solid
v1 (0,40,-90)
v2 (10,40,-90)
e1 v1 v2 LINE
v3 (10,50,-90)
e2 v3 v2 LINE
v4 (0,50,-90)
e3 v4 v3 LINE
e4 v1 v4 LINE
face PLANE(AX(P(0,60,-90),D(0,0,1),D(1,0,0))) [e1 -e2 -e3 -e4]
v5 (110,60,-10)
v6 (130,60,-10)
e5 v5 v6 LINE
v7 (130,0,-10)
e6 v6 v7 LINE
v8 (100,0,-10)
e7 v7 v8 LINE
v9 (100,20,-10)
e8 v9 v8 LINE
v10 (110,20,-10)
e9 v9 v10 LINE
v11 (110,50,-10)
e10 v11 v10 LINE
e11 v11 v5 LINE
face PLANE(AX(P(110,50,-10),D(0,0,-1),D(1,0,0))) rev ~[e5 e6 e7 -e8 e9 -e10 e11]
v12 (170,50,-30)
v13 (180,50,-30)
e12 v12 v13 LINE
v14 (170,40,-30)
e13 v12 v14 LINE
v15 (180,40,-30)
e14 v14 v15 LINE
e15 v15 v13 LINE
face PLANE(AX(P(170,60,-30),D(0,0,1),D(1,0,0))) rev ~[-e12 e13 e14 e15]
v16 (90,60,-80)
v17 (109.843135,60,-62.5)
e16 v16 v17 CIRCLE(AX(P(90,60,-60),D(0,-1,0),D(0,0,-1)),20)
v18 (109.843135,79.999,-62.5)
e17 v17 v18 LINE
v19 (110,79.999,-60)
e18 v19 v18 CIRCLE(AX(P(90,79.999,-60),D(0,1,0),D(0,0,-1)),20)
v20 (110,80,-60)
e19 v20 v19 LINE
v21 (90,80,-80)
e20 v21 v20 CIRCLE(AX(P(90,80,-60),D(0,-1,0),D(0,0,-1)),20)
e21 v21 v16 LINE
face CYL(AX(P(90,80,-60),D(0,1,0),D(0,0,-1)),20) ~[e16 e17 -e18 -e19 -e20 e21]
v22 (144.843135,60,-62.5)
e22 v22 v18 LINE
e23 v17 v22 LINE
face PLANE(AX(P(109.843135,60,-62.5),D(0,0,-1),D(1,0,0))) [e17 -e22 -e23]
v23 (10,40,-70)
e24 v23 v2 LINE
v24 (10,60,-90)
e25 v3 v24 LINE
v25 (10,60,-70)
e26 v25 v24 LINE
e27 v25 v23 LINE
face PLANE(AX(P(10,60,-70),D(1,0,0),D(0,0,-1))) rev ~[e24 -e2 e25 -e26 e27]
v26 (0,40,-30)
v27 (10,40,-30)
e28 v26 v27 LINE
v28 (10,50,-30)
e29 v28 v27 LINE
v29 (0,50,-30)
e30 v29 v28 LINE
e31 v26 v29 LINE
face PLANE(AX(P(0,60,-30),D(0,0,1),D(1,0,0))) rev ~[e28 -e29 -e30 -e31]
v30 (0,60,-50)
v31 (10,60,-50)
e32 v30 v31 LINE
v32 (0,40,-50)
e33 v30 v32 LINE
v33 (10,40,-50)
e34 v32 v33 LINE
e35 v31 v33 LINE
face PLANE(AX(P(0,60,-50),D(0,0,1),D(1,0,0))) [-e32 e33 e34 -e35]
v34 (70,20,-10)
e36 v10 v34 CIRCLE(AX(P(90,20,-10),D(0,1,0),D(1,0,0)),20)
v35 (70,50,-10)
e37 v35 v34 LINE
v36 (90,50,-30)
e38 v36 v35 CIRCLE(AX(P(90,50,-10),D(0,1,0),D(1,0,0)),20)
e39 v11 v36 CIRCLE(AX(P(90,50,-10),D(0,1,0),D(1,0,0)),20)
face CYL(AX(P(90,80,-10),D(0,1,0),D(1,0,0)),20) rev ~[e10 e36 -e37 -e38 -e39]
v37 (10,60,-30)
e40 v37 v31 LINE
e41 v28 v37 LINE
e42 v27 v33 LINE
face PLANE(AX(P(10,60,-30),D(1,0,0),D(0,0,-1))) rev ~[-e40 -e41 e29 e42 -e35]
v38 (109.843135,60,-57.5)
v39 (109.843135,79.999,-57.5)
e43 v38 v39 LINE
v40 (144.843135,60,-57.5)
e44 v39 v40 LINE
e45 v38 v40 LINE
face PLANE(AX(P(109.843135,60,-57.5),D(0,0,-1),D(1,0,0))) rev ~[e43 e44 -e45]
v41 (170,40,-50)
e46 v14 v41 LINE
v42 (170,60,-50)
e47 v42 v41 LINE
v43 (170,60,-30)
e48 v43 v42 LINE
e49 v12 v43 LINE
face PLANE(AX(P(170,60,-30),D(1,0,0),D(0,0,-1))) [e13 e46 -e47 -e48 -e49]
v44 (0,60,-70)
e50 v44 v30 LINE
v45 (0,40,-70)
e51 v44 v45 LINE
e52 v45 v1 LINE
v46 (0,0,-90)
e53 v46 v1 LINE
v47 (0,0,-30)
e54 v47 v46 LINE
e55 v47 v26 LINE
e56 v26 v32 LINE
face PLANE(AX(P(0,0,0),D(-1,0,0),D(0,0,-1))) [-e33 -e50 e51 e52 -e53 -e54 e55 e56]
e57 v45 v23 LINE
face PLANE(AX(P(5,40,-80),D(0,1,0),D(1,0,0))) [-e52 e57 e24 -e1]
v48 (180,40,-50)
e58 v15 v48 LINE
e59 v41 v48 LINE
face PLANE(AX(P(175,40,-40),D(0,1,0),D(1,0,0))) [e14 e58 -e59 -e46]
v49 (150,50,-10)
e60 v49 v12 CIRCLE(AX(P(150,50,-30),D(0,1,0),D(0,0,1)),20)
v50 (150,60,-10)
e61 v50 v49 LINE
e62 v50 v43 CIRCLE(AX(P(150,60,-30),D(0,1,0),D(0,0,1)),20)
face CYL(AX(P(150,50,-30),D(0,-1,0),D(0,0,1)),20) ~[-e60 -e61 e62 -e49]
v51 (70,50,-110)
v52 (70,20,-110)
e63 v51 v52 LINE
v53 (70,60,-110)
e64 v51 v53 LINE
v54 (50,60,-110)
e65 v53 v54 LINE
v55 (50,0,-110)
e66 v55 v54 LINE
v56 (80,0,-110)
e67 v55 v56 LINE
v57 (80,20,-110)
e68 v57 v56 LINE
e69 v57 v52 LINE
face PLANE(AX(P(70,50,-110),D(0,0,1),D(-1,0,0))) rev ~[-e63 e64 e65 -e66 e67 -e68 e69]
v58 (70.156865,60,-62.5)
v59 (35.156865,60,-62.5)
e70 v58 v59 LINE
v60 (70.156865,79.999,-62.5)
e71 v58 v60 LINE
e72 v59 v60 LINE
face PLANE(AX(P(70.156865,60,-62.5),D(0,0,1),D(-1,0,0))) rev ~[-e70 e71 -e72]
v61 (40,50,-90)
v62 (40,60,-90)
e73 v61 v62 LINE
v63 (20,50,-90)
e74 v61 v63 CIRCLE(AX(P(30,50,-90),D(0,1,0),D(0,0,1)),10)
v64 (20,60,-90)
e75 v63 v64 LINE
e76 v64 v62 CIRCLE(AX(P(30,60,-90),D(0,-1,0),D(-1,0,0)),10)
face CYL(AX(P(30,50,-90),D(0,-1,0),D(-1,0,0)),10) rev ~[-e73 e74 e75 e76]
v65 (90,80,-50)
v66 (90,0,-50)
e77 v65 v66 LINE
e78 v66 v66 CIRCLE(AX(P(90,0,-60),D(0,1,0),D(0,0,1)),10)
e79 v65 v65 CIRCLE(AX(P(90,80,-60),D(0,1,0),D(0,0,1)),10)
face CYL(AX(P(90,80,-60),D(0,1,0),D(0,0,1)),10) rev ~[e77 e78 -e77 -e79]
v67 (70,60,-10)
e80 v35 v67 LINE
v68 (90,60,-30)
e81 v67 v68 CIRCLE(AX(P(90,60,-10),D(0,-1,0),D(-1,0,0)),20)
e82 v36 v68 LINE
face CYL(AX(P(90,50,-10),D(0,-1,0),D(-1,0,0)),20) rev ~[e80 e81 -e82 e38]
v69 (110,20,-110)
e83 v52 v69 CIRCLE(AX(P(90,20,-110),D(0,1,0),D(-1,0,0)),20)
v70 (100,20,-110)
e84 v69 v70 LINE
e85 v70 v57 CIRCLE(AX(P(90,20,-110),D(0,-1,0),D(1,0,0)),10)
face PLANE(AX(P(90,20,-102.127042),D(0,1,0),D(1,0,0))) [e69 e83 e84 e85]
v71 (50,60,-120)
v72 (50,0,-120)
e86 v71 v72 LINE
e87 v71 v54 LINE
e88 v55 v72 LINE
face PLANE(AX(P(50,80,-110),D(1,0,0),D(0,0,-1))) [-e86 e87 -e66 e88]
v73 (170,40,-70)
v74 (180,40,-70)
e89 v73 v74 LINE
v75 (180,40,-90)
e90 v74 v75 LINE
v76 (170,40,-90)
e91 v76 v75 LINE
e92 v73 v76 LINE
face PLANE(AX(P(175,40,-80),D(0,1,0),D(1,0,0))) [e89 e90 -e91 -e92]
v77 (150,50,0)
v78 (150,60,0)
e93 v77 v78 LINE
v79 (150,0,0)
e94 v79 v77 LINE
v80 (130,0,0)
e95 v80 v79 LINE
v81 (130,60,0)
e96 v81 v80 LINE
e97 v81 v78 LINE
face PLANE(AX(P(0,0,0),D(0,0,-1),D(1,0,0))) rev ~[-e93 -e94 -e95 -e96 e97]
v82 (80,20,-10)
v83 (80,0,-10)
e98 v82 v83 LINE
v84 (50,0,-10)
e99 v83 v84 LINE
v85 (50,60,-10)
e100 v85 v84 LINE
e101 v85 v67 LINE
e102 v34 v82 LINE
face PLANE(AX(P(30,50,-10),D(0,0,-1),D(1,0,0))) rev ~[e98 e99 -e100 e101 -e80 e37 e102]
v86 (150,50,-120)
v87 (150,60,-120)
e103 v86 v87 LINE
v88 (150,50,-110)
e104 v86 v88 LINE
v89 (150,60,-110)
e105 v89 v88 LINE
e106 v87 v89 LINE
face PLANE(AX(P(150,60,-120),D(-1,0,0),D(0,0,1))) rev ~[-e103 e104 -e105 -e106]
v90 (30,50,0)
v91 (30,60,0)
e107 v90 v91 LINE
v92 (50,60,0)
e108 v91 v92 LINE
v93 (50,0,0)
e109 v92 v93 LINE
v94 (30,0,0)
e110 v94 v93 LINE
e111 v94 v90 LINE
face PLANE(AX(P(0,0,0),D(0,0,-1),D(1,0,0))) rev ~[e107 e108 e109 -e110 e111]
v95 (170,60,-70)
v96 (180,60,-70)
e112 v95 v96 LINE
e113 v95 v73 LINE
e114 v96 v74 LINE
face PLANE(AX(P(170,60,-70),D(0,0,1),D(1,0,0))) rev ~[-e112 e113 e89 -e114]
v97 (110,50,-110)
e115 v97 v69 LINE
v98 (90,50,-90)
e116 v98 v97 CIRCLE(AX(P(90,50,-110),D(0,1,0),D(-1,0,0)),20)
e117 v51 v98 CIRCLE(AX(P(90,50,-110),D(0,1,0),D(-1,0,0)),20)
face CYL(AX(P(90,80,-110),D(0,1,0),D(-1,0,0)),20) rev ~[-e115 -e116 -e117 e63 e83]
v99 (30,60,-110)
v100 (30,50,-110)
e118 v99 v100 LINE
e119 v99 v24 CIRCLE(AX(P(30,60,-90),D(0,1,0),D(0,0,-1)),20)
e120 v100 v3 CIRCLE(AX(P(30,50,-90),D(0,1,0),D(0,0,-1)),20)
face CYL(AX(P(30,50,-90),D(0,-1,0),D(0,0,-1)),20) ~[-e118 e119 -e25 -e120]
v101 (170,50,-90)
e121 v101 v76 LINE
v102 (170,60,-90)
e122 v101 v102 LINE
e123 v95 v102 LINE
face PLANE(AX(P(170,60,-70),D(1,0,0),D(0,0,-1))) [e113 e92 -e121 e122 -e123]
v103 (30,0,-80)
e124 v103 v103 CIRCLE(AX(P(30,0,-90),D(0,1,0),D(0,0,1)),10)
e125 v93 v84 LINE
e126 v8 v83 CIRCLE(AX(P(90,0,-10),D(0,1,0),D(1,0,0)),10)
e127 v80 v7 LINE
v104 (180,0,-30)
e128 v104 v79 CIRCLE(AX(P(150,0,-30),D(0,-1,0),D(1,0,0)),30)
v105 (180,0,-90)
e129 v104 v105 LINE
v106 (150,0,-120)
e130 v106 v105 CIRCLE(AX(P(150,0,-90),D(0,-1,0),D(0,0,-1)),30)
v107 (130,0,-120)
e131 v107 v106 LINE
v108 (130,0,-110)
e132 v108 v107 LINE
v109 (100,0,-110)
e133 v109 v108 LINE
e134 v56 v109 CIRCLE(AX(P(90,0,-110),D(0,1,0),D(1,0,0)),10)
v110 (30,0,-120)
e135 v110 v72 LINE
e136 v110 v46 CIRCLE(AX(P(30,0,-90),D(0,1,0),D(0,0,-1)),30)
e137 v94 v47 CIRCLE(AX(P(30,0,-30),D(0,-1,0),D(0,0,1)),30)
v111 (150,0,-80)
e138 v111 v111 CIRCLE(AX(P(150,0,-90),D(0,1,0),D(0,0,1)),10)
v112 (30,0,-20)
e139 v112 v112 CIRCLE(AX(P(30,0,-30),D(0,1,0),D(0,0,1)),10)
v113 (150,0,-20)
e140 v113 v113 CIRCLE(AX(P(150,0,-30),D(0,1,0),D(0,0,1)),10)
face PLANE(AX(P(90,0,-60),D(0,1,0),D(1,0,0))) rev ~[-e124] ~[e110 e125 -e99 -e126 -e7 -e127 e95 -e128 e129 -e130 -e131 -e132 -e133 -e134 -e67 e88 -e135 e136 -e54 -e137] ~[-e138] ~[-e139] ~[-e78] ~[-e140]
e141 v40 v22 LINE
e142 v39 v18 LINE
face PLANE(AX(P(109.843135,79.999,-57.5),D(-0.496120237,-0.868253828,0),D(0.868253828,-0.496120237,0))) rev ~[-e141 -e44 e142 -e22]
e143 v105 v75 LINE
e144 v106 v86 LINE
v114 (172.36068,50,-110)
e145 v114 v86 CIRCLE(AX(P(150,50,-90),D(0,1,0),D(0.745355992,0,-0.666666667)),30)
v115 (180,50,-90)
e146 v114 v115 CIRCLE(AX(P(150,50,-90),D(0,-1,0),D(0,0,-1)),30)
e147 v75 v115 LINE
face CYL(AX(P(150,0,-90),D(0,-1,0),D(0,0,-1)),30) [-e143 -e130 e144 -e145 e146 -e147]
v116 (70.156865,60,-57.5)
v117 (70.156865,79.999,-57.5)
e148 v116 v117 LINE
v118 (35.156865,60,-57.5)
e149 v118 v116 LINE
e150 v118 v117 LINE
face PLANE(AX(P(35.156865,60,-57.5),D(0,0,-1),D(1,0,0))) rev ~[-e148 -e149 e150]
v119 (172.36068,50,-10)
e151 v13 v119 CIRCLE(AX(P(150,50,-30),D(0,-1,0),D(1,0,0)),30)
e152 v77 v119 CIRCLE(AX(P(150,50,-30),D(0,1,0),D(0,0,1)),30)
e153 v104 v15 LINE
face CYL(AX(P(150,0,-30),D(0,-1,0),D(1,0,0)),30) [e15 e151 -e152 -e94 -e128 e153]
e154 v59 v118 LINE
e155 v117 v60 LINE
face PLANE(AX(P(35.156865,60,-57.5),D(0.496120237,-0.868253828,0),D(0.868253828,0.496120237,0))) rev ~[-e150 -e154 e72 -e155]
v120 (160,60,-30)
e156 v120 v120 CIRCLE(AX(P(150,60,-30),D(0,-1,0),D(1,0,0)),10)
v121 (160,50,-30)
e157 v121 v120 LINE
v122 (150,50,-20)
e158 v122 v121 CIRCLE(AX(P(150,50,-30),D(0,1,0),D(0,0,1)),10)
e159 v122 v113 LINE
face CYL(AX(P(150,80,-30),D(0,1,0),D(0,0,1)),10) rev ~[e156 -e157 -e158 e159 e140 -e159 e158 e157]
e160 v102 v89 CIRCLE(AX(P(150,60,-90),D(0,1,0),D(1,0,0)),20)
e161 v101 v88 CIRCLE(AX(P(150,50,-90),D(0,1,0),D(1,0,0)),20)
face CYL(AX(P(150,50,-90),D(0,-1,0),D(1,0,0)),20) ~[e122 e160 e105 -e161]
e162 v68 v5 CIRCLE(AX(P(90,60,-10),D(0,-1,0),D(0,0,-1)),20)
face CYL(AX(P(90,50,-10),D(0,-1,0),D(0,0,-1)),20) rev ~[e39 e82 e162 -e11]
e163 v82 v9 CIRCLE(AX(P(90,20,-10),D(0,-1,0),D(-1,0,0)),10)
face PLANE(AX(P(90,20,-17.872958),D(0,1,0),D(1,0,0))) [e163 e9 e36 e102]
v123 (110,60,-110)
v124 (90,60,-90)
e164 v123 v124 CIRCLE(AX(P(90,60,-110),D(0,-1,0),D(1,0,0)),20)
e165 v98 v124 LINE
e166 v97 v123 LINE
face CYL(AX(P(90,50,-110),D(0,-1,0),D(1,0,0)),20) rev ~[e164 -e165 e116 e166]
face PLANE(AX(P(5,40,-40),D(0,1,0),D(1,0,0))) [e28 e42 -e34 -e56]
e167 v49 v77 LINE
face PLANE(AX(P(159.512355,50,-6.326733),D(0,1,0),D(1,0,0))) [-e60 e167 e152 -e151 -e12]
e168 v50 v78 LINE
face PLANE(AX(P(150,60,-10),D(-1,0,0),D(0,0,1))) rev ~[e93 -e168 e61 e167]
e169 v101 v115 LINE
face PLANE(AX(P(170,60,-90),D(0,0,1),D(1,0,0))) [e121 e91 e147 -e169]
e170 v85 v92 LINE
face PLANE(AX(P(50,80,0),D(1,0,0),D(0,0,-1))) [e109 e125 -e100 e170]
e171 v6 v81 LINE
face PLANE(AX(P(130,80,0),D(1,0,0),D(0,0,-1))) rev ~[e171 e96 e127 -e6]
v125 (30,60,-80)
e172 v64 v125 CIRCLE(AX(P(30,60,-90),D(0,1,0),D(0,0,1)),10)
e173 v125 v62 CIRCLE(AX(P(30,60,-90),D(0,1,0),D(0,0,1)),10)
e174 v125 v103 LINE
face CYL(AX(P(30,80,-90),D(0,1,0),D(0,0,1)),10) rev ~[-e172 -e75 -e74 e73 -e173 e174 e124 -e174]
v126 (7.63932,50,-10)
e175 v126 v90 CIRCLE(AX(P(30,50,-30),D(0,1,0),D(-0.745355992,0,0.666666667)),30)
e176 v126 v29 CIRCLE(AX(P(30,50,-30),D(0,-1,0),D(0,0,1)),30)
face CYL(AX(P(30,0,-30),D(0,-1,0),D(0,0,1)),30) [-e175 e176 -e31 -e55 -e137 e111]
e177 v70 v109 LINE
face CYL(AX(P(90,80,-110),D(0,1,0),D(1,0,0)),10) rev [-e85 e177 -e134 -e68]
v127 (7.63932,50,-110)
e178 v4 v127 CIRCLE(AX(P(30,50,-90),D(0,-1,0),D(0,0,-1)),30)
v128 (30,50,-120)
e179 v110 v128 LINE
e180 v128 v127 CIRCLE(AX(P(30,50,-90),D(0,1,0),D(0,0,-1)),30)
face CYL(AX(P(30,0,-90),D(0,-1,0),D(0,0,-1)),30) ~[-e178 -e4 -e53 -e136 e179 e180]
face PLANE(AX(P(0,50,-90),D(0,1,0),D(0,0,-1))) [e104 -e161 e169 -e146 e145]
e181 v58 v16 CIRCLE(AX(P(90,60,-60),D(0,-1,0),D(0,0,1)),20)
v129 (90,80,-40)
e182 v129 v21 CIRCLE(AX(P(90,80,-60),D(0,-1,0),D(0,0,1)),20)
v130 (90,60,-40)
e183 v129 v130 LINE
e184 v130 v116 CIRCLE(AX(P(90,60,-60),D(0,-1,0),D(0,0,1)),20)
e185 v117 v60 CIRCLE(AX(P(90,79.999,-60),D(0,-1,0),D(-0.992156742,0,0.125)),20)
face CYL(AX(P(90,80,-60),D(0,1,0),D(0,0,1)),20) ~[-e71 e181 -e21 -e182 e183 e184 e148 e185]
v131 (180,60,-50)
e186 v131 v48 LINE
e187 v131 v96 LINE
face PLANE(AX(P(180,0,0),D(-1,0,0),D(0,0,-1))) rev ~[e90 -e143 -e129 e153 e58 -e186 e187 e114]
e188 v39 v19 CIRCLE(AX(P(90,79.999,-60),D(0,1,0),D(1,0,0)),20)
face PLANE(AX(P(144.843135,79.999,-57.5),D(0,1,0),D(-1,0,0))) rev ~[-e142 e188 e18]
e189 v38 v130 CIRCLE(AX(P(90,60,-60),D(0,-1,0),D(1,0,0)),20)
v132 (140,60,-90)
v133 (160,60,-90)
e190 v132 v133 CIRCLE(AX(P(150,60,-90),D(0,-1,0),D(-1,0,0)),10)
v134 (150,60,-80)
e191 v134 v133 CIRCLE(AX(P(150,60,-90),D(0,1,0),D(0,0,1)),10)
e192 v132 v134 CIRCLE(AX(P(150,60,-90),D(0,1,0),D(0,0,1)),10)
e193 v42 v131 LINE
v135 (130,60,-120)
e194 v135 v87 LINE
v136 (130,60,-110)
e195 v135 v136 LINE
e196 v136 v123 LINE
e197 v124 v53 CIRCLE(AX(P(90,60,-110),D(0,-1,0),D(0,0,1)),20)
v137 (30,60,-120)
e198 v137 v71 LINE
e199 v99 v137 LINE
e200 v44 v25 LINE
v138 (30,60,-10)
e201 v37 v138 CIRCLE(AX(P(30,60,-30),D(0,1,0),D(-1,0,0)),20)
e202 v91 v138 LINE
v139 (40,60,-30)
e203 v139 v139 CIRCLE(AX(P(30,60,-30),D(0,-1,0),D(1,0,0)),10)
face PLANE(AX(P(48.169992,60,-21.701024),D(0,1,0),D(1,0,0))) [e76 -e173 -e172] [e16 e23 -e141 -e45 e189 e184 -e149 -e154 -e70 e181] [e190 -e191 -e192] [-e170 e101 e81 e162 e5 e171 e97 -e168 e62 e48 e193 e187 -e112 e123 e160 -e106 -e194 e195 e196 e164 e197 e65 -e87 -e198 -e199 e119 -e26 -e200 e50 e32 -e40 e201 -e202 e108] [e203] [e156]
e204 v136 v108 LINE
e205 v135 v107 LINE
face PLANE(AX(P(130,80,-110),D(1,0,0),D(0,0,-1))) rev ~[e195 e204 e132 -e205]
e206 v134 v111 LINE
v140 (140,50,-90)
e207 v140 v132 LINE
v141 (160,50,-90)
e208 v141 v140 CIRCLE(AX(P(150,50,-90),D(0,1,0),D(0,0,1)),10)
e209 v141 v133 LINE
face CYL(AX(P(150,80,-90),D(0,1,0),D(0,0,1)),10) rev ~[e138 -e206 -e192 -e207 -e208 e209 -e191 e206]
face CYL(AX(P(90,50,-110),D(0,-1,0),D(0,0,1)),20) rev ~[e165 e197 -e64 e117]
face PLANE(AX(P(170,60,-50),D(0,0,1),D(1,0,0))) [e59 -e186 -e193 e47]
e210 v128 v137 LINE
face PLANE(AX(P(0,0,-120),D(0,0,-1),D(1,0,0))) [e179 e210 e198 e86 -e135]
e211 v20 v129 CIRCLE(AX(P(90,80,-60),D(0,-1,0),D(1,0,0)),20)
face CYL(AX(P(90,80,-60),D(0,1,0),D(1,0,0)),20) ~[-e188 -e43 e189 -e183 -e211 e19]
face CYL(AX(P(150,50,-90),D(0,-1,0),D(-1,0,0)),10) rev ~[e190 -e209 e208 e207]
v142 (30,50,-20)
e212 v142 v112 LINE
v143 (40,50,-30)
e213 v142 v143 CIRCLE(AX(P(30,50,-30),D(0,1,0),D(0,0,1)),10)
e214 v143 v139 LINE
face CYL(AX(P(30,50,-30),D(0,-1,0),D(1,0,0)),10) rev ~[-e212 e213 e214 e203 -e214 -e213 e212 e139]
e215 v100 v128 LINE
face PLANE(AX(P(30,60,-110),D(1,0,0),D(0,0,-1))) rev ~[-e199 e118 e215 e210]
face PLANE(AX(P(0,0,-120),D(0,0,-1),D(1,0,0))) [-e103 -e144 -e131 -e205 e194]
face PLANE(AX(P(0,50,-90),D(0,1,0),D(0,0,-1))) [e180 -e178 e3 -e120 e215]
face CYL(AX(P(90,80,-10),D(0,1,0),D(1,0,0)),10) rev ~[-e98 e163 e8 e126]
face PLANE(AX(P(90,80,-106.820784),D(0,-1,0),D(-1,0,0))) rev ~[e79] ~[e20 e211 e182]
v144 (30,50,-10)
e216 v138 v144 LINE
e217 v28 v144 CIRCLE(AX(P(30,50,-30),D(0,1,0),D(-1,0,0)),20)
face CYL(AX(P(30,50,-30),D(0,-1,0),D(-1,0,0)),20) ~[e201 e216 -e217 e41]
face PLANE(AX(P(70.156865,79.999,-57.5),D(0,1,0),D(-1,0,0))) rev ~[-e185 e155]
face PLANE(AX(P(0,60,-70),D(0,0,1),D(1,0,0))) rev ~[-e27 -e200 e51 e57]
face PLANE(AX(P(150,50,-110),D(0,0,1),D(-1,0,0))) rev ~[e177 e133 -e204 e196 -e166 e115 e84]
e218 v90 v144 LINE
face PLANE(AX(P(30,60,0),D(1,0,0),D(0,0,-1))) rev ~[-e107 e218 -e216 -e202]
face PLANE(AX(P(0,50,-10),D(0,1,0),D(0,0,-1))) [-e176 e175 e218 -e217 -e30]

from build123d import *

# Parameters (mm, degrees)
SKETCH1_W           = 180
SKETCH1_H           = 120
BOSS_EXTRUDE2_DEPTH = 80
CUT_EXTRUDE1_DEPTH  = 150
CUT_EXTRUDE2_DEPTH  = 150
SKETCH4_R           = 10
CUT_EXTRUDE3_DEPTH  = 150
CUT_EXTRUDE4_DEPTH  = 60
CUT_EXTRUDE5_DEPTH  = 60
SKETCH7_R           = 10
CUT_EXTRUDE7_DEPTH  = 139
SKETCH8_W           = 80
SKETCH8_H           = 10
CUT_EXTRUDE8_DEPTH  = 139
BOSS_EXTRUDE3_DEPTH = 60
CUT_EXTRUDE9_DEPTH  = 256
CUT_EXTRUDE10_DEPTH = 60
CUT_EXTRUDE11_DEPTH = 60
SKETCH13_W          = 40
SKETCH13_H          = 20
SKETCH13_W_2        = 20
SKETCH13_H_2        = 10
CUT_EXTRUDE12_DEPTH = 209
CUT_EXTRUDE13_DEPTH = 20
CUT_EXTRUDE14_DEPTH = 10
CUT_EXTRUDE15_DEPTH = 10
CUT_EXTRUDE16_DEPTH = 10
CUT_EXTRUDE17_DEPTH = 10
BOSS_EXTRUDE4_DEPTH = 10
BOSS_EXTRUDE5_DEPTH = 10
SKETCH21_W          = 10
SKETCH21_H          = 20
CUT_EXTRUDE20_DEPTH = 20
SKETCH22_W          = 35
SKETCH22_H          = 5
BOSS_EXTRUDE9_DEPTH = 19.999
CUT_EXTRUDE21_DEPTH = 10


with BuildPart() as part:
    # Sketch1 → Boss-Extrude2 (new body)
    with BuildSketch(Plane(origin=(0, 0, 0), x_dir=(1, 0, 0), z_dir=(0, 1, 0))):
        with Locations((90, 60)):
            Rectangle(SKETCH1_W, SKETCH1_H)
    extrude(amount=BOSS_EXTRUDE2_DEPTH)

    # Sketch2 → Cut-Extrude1 (cut)
    with BuildSketch(Plane(origin=(0, 0, 0), x_dir=(1, 0, 0), z_dir=(0, 1, 0))):
        with BuildLine():
            ThreePointArc((30, 0), (8.786796564, 8.786796564), (0, 30))
            Line((0, 30), (0, 0))
            Line((0, 0), (30, 0))
        make_face()
        with BuildLine():
            Line((180, 0), (180, 30))
            ThreePointArc((180, 30), (171.213203436, 8.786796564), (150, 0))
            Line((150, 0), (180, 0))
        make_face()
        with BuildLine():
            Line((180, 120), (150, 120))
            ThreePointArc((150, 120), (171.213203436, 111.213203436), (180, 90))
            Line((180, 90), (180, 120))
        make_face()
        with BuildLine():
            Line((0, 120), (30, 120))
            ThreePointArc((30, 120), (8.786796564, 111.213203436), (0, 90))
            Line((0, 90), (0, 120))
        make_face()
    extrude(amount=CUT_EXTRUDE1_DEPTH, mode=Mode.SUBTRACT)

    # Sketch3 → Cut-Extrude2 (cut)
    with BuildSketch(Plane(origin=(0, 0, 0), x_dir=(1, 0, 0), z_dir=(0, 1, 0))):
        with BuildLine():
            Line((80, 120), (100, 120))
            ThreePointArc((100, 120), (90, 110), (80, 120))
        make_face()
        with BuildLine():
            Line((80, 0), (100, 0))
            ThreePointArc((100, 0), (90, 10), (80, 0))
        make_face()
    extrude(amount=CUT_EXTRUDE2_DEPTH, mode=Mode.SUBTRACT)

    # Sketch4 → Cut-Extrude3 (cut)
    with BuildSketch(Plane(origin=(0, 80, 0), x_dir=(1, 0, 0), z_dir=(0, 1, 0))):
        with Locations(Location((30, 90, 0), (0, 0, 270))):
            Circle(SKETCH4_R)
        with Locations(Location((150, 90, 0), (0, 0, 270))):
            Circle(SKETCH4_R)
        with Locations(Location((150, 30, 0), (0, 0, 270))):
            Circle(SKETCH4_R)
        with Locations(Location((30, 30, 0), (0, 0, 270))):
            Circle(SKETCH4_R)
    extrude(amount=-CUT_EXTRUDE3_DEPTH, mode=Mode.SUBTRACT)

    # Sketch5 → Cut-Extrude4 (cut)
    with BuildSketch(Plane(origin=(0, 80, 0), x_dir=(1, 0, 0), z_dir=(0, 1, 0))):
        with BuildLine():
            Line((70, 120), (80, 120))
            ThreePointArc((80, 120), (90, 110), (100, 120))
            Line((100, 120), (110, 120))
            ThreePointArc((110, 120), (90, 100), (70, 120))
        make_face()
    extrude(amount=-CUT_EXTRUDE4_DEPTH, mode=Mode.SUBTRACT)

    # Sketch6 → Cut-Extrude5 (cut)
    with BuildSketch(Plane(origin=(0, 80, 0), x_dir=(1, 0, 0), z_dir=(0, 1, 0))):
        with BuildLine():
            ThreePointArc((110, 0), (90, 20), (70, 0))
            Line((70, 0), (80, 0))
            ThreePointArc((80, 0), (90, 10), (100, 0))
            Line((100, 0), (110, 0))
        make_face()
    extrude(amount=-CUT_EXTRUDE5_DEPTH, mode=Mode.SUBTRACT)

    # Sketch7 → Cut-Extrude7 (cut)
    with BuildSketch(Plane(origin=(0, 80, 0), x_dir=(1, 0, 0), z_dir=(0, 1, 0))):
        with Locations(Location((90, 60, 0), (0, 0, 270))):
            Circle(SKETCH7_R)
    extrude(amount=-CUT_EXTRUDE7_DEPTH, mode=Mode.SUBTRACT)

    # Sketch8 → Cut-Extrude8 (cut)
    with BuildSketch(Plane(origin=(0, 80, 0), x_dir=(1, 0, 0), z_dir=(0, 1, 0))):
        with Locations((90, 115)):
            Rectangle(SKETCH8_W, SKETCH8_H)
        with Locations((90, 5)):
            Rectangle(SKETCH8_W, SKETCH8_H)
    extrude(amount=-CUT_EXTRUDE8_DEPTH, mode=Mode.SUBTRACT)

    # Sketch9 → Boss-Extrude3 (add)
    with BuildSketch(Plane(origin=(0, 20, 0), x_dir=(1, 0, 0), z_dir=(0, 1, 0))):
        with BuildLine():
            Line((72.679491924, 110), (107.320508076, 110))
            ThreePointArc((107.320508076, 110), (90, 100), (72.679491924, 110))
        make_face()
        with BuildLine():
            Line((72.679491924, 10), (107.320508076, 10))
            ThreePointArc((107.320508076, 10), (90, 20), (72.679491924, 10))
        make_face()
    extrude(amount=BOSS_EXTRUDE3_DEPTH)

    # Sketch10 → Cut-Extrude9 (cut)
    with BuildSketch(Plane(origin=(0, 80, 0), x_dir=(1, 0, 0), z_dir=(0, 1, 0))):
        with BuildLine():
            Line((80, 110), (100, 110))
            ThreePointArc((100, 110), (90, 100), (80, 110))
        make_face()
        with BuildLine():
            Line((80, 10), (100, 10))
            ThreePointArc((100, 10), (90, 20), (80, 10))
        make_face()
    extrude(amount=-CUT_EXTRUDE9_DEPTH, mode=Mode.SUBTRACT)

    # Sketch11 → Cut-Extrude10 (cut)
    with BuildSketch(Plane(origin=(0, 80, 0), x_dir=(1, 0, 0), z_dir=(0, 1, 0))):
        with BuildLine():
            Line((80, 110), (70, 110))
            ThreePointArc((70, 110), (90, 90), (110, 110))
            Line((110, 110), (100, 110))
            ThreePointArc((100, 110), (90, 100), (80, 110))
        make_face()
    extrude(amount=-CUT_EXTRUDE10_DEPTH, mode=Mode.SUBTRACT)

    # Sketch12 → Cut-Extrude11 (cut)
    with BuildSketch(Plane(origin=(0, 80, 0), x_dir=(1, 0, 0), z_dir=(0, 1, 0))):
        with BuildLine():
            ThreePointArc((110, 10), (90, 30), (70, 10))
            Line((70, 10), (80, 10))
            ThreePointArc((80, 10), (90, 20), (100, 10))
            Line((100, 10), (110, 10))
        make_face()
    extrude(amount=-CUT_EXTRUDE11_DEPTH, mode=Mode.SUBTRACT)

    # Sketch13 → Cut-Extrude12 (cut)
    with BuildSketch(Plane(origin=(0, 0, 0), x_dir=(0, 0, -1), z_dir=(1, 0, 0))):
        with Locations((100, 70)):
            Rectangle(SKETCH13_W, SKETCH13_H)
        with Locations((100, 55)):
            Rectangle(SKETCH13_W_2, SKETCH13_H_2)
        with Locations((20, 70)):
            Rectangle(SKETCH13_W, SKETCH13_H)
        with Locations((20, 55)):
            Rectangle(SKETCH13_W_2, SKETCH13_H_2)
    extrude(amount=CUT_EXTRUDE12_DEPTH, mode=Mode.SUBTRACT)

    # Sketch14 → Cut-Extrude13 (cut)
    with BuildSketch(Plane(origin=(0, 80, 0), x_dir=(1, 0, 0), z_dir=(0, 1, 0))):
        with BuildLine():
            Line((90, 80), (0, 80))
            Line((0, 80), (0, 40))
            Line((0, 40), (90, 40))
            ThreePointArc((90, 40), (70, 60), (90, 80))
        make_face()
        with BuildLine():
            Line((180, 80), (90, 80))
            ThreePointArc((90, 80), (104.142135624, 74.142135624), (110, 60))
            ThreePointArc((110, 60), (104.142135624, 45.857864376), (90, 40))
            Line((90, 40), (180, 40))
            Line((180, 40), (180, 80))
        make_face()
    extrude(amount=-CUT_EXTRUDE13_DEPTH, mode=Mode.SUBTRACT)

    # Sketch15 → Cut-Extrude14 (cut)
    with BuildSketch(Plane(origin=(0, 60, 0), x_dir=(1, 0, 0), z_dir=(0, 1, 0))):
        with BuildLine():
            Line((7.639320225, 110), (30, 110))
            Line((30, 110), (30, 120))
            ThreePointArc((30, 120), (17.752551286, 117.386127875), (7.639320225, 110))
        make_face()
    extrude(amount=-CUT_EXTRUDE14_DEPTH, mode=Mode.SUBTRACT)

    # Sketch16 → Cut-Extrude15 (cut)
    with BuildSketch(Plane(origin=(0, 60, 0), x_dir=(1, 0, 0), z_dir=(0, 1, 0))):
        with BuildLine():
            ThreePointArc((7.639320225, 10), (17.752551286, 2.613872125), (30, 0))
            Line((30, 0), (30, 10))
            Line((30, 10), (7.639320225, 10))
        make_face()
    extrude(amount=-CUT_EXTRUDE15_DEPTH, mode=Mode.SUBTRACT)

    # Sketch17 → Cut-Extrude16 (cut)
    with BuildSketch(Plane(origin=(0, 60, 0), x_dir=(1, 0, 0), z_dir=(0, 1, 0))):
        with BuildLine():
            Line((150, 10), (150, 0))
            ThreePointArc((150, 0), (162.247448714, 2.613872125), (172.360679775, 10))
            Line((172.360679775, 10), (150, 10))
        make_face()
    extrude(amount=-CUT_EXTRUDE16_DEPTH, mode=Mode.SUBTRACT)

    # Sketch18 → Cut-Extrude17 (cut)
    with BuildSketch(Plane(origin=(0, 60, 0), x_dir=(1, 0, 0), z_dir=(0, 1, 0))):
        with BuildLine():
            ThreePointArc((172.360679775, 110), (162.247448714, 117.386127875), (150, 120))
            Line((150, 120), (150, 110))
            Line((150, 110), (172.360679775, 110))
        make_face()
    extrude(amount=-CUT_EXTRUDE17_DEPTH, mode=Mode.SUBTRACT)

    # Sketch19 → Boss-Extrude4 (add)
    with BuildSketch(Plane(origin=(0, 50, 0), x_dir=(1, 0, 0), z_dir=(0, 1, 0))):
        with BuildLine():
            Line((40, 90), (90, 90))
            ThreePointArc((90, 90), (75.857864376, 95.857864376), (70, 110))
            Line((70, 110), (30, 110))
            ThreePointArc((30, 110), (15.857864376, 104.142135624), (10, 90))
            Line((10, 90), (20, 90))
            ThreePointArc((20, 90), (30, 100), (40, 90))
        make_face()
        with BuildLine():
            ThreePointArc((170, 90), (164.142135624, 104.142135624), (150, 110))
            Line((150, 110), (130, 110))
            Line((130, 110), (110, 110))
            ThreePointArc((110, 110), (104.142135624, 95.857864376), (90, 90))
            Line((90, 90), (140, 90))
            ThreePointArc((140, 90), (150, 100), (160, 90))
            Line((160, 90), (170, 90))
        make_face()
    extrude(amount=BOSS_EXTRUDE4_DEPTH)

    # Sketch20 → Boss-Extrude5 (add)
    with BuildSketch(Plane(origin=(0, 50, 0), x_dir=(1, 0, 0), z_dir=(0, 1, 0))):
        with BuildLine():
            Line((20, 30), (10, 30))
            ThreePointArc((10, 30), (15.857864376, 15.857864376), (30, 10))
            Line((30, 10), (50, 10))
            Line((50, 10), (70, 10))
            ThreePointArc((70, 10), (75.857864376, 24.142135624), (90, 30))
            Line((90, 30), (40, 30))
            ThreePointArc((40, 30), (30, 20), (20, 30))
        make_face()
        with BuildLine():
            Line((140, 30), (90, 30))
            ThreePointArc((90, 30), (104.142135624, 24.142135624), (110, 10))
            Line((110, 10), (130, 10))
            Line((130, 10), (150, 10))
            ThreePointArc((150, 10), (164.142135624, 15.857864376), (170, 30))
            Line((170, 30), (160, 30))
            ThreePointArc((160, 30), (150, 20), (140, 30))
        make_face()
    extrude(amount=BOSS_EXTRUDE5_DEPTH)

    # Sketch21 → Cut-Extrude20 (cut)
    with BuildSketch(Plane(origin=(0, 60, 0), x_dir=(1, 0, 0), z_dir=(0, 1, 0))):
        with Locations((5, 80)):
            Rectangle(SKETCH21_W, SKETCH21_H)
        with Locations((5, 40)):
            Rectangle(SKETCH21_W, SKETCH21_H)
        with Locations((175, 80)):
            Rectangle(SKETCH21_W, SKETCH21_H)
        with Locations((175, 40)):
            Rectangle(SKETCH21_W, SKETCH21_H)
    extrude(amount=-CUT_EXTRUDE20_DEPTH, mode=Mode.SUBTRACT)

    # Sketch22 → Boss-Extrude9 (add)
    with BuildSketch(Plane(origin=(0, 60, 0), x_dir=(1, 0, 0), z_dir=(0, 1, 0))):
        with BuildLine():
            Line((70.156865167, 62.5), (35.156865167, 62.5))
            Line((35.156865167, 62.5), (35.156865167, 57.5))
            Line((35.156865167, 57.5), (70.156865167, 57.5))
            ThreePointArc((70.156865167, 57.5), (70, 60), (70.156865167, 62.5))
        make_face()
        with Locations((127.343134833, 60)):
            Rectangle(SKETCH22_W, SKETCH22_H)
    extrude(amount=BOSS_EXTRUDE9_DEPTH)

    # Sketch23 → Cut-Extrude21 (cut)
    with BuildSketch(Plane.XY.offset(-57.5)):
        Polygon((35.156865167, 60), (70.156865167, 79.999), (35.156865167, 79.999), align=None)
        Polygon((109.843134833, 79.999), (144.843134833, 60), (144.843134833, 79.999), align=None)
    extrude(amount=-CUT_EXTRUDE21_DEPTH, mode=Mode.SUBTRACT)


solid = part.part
